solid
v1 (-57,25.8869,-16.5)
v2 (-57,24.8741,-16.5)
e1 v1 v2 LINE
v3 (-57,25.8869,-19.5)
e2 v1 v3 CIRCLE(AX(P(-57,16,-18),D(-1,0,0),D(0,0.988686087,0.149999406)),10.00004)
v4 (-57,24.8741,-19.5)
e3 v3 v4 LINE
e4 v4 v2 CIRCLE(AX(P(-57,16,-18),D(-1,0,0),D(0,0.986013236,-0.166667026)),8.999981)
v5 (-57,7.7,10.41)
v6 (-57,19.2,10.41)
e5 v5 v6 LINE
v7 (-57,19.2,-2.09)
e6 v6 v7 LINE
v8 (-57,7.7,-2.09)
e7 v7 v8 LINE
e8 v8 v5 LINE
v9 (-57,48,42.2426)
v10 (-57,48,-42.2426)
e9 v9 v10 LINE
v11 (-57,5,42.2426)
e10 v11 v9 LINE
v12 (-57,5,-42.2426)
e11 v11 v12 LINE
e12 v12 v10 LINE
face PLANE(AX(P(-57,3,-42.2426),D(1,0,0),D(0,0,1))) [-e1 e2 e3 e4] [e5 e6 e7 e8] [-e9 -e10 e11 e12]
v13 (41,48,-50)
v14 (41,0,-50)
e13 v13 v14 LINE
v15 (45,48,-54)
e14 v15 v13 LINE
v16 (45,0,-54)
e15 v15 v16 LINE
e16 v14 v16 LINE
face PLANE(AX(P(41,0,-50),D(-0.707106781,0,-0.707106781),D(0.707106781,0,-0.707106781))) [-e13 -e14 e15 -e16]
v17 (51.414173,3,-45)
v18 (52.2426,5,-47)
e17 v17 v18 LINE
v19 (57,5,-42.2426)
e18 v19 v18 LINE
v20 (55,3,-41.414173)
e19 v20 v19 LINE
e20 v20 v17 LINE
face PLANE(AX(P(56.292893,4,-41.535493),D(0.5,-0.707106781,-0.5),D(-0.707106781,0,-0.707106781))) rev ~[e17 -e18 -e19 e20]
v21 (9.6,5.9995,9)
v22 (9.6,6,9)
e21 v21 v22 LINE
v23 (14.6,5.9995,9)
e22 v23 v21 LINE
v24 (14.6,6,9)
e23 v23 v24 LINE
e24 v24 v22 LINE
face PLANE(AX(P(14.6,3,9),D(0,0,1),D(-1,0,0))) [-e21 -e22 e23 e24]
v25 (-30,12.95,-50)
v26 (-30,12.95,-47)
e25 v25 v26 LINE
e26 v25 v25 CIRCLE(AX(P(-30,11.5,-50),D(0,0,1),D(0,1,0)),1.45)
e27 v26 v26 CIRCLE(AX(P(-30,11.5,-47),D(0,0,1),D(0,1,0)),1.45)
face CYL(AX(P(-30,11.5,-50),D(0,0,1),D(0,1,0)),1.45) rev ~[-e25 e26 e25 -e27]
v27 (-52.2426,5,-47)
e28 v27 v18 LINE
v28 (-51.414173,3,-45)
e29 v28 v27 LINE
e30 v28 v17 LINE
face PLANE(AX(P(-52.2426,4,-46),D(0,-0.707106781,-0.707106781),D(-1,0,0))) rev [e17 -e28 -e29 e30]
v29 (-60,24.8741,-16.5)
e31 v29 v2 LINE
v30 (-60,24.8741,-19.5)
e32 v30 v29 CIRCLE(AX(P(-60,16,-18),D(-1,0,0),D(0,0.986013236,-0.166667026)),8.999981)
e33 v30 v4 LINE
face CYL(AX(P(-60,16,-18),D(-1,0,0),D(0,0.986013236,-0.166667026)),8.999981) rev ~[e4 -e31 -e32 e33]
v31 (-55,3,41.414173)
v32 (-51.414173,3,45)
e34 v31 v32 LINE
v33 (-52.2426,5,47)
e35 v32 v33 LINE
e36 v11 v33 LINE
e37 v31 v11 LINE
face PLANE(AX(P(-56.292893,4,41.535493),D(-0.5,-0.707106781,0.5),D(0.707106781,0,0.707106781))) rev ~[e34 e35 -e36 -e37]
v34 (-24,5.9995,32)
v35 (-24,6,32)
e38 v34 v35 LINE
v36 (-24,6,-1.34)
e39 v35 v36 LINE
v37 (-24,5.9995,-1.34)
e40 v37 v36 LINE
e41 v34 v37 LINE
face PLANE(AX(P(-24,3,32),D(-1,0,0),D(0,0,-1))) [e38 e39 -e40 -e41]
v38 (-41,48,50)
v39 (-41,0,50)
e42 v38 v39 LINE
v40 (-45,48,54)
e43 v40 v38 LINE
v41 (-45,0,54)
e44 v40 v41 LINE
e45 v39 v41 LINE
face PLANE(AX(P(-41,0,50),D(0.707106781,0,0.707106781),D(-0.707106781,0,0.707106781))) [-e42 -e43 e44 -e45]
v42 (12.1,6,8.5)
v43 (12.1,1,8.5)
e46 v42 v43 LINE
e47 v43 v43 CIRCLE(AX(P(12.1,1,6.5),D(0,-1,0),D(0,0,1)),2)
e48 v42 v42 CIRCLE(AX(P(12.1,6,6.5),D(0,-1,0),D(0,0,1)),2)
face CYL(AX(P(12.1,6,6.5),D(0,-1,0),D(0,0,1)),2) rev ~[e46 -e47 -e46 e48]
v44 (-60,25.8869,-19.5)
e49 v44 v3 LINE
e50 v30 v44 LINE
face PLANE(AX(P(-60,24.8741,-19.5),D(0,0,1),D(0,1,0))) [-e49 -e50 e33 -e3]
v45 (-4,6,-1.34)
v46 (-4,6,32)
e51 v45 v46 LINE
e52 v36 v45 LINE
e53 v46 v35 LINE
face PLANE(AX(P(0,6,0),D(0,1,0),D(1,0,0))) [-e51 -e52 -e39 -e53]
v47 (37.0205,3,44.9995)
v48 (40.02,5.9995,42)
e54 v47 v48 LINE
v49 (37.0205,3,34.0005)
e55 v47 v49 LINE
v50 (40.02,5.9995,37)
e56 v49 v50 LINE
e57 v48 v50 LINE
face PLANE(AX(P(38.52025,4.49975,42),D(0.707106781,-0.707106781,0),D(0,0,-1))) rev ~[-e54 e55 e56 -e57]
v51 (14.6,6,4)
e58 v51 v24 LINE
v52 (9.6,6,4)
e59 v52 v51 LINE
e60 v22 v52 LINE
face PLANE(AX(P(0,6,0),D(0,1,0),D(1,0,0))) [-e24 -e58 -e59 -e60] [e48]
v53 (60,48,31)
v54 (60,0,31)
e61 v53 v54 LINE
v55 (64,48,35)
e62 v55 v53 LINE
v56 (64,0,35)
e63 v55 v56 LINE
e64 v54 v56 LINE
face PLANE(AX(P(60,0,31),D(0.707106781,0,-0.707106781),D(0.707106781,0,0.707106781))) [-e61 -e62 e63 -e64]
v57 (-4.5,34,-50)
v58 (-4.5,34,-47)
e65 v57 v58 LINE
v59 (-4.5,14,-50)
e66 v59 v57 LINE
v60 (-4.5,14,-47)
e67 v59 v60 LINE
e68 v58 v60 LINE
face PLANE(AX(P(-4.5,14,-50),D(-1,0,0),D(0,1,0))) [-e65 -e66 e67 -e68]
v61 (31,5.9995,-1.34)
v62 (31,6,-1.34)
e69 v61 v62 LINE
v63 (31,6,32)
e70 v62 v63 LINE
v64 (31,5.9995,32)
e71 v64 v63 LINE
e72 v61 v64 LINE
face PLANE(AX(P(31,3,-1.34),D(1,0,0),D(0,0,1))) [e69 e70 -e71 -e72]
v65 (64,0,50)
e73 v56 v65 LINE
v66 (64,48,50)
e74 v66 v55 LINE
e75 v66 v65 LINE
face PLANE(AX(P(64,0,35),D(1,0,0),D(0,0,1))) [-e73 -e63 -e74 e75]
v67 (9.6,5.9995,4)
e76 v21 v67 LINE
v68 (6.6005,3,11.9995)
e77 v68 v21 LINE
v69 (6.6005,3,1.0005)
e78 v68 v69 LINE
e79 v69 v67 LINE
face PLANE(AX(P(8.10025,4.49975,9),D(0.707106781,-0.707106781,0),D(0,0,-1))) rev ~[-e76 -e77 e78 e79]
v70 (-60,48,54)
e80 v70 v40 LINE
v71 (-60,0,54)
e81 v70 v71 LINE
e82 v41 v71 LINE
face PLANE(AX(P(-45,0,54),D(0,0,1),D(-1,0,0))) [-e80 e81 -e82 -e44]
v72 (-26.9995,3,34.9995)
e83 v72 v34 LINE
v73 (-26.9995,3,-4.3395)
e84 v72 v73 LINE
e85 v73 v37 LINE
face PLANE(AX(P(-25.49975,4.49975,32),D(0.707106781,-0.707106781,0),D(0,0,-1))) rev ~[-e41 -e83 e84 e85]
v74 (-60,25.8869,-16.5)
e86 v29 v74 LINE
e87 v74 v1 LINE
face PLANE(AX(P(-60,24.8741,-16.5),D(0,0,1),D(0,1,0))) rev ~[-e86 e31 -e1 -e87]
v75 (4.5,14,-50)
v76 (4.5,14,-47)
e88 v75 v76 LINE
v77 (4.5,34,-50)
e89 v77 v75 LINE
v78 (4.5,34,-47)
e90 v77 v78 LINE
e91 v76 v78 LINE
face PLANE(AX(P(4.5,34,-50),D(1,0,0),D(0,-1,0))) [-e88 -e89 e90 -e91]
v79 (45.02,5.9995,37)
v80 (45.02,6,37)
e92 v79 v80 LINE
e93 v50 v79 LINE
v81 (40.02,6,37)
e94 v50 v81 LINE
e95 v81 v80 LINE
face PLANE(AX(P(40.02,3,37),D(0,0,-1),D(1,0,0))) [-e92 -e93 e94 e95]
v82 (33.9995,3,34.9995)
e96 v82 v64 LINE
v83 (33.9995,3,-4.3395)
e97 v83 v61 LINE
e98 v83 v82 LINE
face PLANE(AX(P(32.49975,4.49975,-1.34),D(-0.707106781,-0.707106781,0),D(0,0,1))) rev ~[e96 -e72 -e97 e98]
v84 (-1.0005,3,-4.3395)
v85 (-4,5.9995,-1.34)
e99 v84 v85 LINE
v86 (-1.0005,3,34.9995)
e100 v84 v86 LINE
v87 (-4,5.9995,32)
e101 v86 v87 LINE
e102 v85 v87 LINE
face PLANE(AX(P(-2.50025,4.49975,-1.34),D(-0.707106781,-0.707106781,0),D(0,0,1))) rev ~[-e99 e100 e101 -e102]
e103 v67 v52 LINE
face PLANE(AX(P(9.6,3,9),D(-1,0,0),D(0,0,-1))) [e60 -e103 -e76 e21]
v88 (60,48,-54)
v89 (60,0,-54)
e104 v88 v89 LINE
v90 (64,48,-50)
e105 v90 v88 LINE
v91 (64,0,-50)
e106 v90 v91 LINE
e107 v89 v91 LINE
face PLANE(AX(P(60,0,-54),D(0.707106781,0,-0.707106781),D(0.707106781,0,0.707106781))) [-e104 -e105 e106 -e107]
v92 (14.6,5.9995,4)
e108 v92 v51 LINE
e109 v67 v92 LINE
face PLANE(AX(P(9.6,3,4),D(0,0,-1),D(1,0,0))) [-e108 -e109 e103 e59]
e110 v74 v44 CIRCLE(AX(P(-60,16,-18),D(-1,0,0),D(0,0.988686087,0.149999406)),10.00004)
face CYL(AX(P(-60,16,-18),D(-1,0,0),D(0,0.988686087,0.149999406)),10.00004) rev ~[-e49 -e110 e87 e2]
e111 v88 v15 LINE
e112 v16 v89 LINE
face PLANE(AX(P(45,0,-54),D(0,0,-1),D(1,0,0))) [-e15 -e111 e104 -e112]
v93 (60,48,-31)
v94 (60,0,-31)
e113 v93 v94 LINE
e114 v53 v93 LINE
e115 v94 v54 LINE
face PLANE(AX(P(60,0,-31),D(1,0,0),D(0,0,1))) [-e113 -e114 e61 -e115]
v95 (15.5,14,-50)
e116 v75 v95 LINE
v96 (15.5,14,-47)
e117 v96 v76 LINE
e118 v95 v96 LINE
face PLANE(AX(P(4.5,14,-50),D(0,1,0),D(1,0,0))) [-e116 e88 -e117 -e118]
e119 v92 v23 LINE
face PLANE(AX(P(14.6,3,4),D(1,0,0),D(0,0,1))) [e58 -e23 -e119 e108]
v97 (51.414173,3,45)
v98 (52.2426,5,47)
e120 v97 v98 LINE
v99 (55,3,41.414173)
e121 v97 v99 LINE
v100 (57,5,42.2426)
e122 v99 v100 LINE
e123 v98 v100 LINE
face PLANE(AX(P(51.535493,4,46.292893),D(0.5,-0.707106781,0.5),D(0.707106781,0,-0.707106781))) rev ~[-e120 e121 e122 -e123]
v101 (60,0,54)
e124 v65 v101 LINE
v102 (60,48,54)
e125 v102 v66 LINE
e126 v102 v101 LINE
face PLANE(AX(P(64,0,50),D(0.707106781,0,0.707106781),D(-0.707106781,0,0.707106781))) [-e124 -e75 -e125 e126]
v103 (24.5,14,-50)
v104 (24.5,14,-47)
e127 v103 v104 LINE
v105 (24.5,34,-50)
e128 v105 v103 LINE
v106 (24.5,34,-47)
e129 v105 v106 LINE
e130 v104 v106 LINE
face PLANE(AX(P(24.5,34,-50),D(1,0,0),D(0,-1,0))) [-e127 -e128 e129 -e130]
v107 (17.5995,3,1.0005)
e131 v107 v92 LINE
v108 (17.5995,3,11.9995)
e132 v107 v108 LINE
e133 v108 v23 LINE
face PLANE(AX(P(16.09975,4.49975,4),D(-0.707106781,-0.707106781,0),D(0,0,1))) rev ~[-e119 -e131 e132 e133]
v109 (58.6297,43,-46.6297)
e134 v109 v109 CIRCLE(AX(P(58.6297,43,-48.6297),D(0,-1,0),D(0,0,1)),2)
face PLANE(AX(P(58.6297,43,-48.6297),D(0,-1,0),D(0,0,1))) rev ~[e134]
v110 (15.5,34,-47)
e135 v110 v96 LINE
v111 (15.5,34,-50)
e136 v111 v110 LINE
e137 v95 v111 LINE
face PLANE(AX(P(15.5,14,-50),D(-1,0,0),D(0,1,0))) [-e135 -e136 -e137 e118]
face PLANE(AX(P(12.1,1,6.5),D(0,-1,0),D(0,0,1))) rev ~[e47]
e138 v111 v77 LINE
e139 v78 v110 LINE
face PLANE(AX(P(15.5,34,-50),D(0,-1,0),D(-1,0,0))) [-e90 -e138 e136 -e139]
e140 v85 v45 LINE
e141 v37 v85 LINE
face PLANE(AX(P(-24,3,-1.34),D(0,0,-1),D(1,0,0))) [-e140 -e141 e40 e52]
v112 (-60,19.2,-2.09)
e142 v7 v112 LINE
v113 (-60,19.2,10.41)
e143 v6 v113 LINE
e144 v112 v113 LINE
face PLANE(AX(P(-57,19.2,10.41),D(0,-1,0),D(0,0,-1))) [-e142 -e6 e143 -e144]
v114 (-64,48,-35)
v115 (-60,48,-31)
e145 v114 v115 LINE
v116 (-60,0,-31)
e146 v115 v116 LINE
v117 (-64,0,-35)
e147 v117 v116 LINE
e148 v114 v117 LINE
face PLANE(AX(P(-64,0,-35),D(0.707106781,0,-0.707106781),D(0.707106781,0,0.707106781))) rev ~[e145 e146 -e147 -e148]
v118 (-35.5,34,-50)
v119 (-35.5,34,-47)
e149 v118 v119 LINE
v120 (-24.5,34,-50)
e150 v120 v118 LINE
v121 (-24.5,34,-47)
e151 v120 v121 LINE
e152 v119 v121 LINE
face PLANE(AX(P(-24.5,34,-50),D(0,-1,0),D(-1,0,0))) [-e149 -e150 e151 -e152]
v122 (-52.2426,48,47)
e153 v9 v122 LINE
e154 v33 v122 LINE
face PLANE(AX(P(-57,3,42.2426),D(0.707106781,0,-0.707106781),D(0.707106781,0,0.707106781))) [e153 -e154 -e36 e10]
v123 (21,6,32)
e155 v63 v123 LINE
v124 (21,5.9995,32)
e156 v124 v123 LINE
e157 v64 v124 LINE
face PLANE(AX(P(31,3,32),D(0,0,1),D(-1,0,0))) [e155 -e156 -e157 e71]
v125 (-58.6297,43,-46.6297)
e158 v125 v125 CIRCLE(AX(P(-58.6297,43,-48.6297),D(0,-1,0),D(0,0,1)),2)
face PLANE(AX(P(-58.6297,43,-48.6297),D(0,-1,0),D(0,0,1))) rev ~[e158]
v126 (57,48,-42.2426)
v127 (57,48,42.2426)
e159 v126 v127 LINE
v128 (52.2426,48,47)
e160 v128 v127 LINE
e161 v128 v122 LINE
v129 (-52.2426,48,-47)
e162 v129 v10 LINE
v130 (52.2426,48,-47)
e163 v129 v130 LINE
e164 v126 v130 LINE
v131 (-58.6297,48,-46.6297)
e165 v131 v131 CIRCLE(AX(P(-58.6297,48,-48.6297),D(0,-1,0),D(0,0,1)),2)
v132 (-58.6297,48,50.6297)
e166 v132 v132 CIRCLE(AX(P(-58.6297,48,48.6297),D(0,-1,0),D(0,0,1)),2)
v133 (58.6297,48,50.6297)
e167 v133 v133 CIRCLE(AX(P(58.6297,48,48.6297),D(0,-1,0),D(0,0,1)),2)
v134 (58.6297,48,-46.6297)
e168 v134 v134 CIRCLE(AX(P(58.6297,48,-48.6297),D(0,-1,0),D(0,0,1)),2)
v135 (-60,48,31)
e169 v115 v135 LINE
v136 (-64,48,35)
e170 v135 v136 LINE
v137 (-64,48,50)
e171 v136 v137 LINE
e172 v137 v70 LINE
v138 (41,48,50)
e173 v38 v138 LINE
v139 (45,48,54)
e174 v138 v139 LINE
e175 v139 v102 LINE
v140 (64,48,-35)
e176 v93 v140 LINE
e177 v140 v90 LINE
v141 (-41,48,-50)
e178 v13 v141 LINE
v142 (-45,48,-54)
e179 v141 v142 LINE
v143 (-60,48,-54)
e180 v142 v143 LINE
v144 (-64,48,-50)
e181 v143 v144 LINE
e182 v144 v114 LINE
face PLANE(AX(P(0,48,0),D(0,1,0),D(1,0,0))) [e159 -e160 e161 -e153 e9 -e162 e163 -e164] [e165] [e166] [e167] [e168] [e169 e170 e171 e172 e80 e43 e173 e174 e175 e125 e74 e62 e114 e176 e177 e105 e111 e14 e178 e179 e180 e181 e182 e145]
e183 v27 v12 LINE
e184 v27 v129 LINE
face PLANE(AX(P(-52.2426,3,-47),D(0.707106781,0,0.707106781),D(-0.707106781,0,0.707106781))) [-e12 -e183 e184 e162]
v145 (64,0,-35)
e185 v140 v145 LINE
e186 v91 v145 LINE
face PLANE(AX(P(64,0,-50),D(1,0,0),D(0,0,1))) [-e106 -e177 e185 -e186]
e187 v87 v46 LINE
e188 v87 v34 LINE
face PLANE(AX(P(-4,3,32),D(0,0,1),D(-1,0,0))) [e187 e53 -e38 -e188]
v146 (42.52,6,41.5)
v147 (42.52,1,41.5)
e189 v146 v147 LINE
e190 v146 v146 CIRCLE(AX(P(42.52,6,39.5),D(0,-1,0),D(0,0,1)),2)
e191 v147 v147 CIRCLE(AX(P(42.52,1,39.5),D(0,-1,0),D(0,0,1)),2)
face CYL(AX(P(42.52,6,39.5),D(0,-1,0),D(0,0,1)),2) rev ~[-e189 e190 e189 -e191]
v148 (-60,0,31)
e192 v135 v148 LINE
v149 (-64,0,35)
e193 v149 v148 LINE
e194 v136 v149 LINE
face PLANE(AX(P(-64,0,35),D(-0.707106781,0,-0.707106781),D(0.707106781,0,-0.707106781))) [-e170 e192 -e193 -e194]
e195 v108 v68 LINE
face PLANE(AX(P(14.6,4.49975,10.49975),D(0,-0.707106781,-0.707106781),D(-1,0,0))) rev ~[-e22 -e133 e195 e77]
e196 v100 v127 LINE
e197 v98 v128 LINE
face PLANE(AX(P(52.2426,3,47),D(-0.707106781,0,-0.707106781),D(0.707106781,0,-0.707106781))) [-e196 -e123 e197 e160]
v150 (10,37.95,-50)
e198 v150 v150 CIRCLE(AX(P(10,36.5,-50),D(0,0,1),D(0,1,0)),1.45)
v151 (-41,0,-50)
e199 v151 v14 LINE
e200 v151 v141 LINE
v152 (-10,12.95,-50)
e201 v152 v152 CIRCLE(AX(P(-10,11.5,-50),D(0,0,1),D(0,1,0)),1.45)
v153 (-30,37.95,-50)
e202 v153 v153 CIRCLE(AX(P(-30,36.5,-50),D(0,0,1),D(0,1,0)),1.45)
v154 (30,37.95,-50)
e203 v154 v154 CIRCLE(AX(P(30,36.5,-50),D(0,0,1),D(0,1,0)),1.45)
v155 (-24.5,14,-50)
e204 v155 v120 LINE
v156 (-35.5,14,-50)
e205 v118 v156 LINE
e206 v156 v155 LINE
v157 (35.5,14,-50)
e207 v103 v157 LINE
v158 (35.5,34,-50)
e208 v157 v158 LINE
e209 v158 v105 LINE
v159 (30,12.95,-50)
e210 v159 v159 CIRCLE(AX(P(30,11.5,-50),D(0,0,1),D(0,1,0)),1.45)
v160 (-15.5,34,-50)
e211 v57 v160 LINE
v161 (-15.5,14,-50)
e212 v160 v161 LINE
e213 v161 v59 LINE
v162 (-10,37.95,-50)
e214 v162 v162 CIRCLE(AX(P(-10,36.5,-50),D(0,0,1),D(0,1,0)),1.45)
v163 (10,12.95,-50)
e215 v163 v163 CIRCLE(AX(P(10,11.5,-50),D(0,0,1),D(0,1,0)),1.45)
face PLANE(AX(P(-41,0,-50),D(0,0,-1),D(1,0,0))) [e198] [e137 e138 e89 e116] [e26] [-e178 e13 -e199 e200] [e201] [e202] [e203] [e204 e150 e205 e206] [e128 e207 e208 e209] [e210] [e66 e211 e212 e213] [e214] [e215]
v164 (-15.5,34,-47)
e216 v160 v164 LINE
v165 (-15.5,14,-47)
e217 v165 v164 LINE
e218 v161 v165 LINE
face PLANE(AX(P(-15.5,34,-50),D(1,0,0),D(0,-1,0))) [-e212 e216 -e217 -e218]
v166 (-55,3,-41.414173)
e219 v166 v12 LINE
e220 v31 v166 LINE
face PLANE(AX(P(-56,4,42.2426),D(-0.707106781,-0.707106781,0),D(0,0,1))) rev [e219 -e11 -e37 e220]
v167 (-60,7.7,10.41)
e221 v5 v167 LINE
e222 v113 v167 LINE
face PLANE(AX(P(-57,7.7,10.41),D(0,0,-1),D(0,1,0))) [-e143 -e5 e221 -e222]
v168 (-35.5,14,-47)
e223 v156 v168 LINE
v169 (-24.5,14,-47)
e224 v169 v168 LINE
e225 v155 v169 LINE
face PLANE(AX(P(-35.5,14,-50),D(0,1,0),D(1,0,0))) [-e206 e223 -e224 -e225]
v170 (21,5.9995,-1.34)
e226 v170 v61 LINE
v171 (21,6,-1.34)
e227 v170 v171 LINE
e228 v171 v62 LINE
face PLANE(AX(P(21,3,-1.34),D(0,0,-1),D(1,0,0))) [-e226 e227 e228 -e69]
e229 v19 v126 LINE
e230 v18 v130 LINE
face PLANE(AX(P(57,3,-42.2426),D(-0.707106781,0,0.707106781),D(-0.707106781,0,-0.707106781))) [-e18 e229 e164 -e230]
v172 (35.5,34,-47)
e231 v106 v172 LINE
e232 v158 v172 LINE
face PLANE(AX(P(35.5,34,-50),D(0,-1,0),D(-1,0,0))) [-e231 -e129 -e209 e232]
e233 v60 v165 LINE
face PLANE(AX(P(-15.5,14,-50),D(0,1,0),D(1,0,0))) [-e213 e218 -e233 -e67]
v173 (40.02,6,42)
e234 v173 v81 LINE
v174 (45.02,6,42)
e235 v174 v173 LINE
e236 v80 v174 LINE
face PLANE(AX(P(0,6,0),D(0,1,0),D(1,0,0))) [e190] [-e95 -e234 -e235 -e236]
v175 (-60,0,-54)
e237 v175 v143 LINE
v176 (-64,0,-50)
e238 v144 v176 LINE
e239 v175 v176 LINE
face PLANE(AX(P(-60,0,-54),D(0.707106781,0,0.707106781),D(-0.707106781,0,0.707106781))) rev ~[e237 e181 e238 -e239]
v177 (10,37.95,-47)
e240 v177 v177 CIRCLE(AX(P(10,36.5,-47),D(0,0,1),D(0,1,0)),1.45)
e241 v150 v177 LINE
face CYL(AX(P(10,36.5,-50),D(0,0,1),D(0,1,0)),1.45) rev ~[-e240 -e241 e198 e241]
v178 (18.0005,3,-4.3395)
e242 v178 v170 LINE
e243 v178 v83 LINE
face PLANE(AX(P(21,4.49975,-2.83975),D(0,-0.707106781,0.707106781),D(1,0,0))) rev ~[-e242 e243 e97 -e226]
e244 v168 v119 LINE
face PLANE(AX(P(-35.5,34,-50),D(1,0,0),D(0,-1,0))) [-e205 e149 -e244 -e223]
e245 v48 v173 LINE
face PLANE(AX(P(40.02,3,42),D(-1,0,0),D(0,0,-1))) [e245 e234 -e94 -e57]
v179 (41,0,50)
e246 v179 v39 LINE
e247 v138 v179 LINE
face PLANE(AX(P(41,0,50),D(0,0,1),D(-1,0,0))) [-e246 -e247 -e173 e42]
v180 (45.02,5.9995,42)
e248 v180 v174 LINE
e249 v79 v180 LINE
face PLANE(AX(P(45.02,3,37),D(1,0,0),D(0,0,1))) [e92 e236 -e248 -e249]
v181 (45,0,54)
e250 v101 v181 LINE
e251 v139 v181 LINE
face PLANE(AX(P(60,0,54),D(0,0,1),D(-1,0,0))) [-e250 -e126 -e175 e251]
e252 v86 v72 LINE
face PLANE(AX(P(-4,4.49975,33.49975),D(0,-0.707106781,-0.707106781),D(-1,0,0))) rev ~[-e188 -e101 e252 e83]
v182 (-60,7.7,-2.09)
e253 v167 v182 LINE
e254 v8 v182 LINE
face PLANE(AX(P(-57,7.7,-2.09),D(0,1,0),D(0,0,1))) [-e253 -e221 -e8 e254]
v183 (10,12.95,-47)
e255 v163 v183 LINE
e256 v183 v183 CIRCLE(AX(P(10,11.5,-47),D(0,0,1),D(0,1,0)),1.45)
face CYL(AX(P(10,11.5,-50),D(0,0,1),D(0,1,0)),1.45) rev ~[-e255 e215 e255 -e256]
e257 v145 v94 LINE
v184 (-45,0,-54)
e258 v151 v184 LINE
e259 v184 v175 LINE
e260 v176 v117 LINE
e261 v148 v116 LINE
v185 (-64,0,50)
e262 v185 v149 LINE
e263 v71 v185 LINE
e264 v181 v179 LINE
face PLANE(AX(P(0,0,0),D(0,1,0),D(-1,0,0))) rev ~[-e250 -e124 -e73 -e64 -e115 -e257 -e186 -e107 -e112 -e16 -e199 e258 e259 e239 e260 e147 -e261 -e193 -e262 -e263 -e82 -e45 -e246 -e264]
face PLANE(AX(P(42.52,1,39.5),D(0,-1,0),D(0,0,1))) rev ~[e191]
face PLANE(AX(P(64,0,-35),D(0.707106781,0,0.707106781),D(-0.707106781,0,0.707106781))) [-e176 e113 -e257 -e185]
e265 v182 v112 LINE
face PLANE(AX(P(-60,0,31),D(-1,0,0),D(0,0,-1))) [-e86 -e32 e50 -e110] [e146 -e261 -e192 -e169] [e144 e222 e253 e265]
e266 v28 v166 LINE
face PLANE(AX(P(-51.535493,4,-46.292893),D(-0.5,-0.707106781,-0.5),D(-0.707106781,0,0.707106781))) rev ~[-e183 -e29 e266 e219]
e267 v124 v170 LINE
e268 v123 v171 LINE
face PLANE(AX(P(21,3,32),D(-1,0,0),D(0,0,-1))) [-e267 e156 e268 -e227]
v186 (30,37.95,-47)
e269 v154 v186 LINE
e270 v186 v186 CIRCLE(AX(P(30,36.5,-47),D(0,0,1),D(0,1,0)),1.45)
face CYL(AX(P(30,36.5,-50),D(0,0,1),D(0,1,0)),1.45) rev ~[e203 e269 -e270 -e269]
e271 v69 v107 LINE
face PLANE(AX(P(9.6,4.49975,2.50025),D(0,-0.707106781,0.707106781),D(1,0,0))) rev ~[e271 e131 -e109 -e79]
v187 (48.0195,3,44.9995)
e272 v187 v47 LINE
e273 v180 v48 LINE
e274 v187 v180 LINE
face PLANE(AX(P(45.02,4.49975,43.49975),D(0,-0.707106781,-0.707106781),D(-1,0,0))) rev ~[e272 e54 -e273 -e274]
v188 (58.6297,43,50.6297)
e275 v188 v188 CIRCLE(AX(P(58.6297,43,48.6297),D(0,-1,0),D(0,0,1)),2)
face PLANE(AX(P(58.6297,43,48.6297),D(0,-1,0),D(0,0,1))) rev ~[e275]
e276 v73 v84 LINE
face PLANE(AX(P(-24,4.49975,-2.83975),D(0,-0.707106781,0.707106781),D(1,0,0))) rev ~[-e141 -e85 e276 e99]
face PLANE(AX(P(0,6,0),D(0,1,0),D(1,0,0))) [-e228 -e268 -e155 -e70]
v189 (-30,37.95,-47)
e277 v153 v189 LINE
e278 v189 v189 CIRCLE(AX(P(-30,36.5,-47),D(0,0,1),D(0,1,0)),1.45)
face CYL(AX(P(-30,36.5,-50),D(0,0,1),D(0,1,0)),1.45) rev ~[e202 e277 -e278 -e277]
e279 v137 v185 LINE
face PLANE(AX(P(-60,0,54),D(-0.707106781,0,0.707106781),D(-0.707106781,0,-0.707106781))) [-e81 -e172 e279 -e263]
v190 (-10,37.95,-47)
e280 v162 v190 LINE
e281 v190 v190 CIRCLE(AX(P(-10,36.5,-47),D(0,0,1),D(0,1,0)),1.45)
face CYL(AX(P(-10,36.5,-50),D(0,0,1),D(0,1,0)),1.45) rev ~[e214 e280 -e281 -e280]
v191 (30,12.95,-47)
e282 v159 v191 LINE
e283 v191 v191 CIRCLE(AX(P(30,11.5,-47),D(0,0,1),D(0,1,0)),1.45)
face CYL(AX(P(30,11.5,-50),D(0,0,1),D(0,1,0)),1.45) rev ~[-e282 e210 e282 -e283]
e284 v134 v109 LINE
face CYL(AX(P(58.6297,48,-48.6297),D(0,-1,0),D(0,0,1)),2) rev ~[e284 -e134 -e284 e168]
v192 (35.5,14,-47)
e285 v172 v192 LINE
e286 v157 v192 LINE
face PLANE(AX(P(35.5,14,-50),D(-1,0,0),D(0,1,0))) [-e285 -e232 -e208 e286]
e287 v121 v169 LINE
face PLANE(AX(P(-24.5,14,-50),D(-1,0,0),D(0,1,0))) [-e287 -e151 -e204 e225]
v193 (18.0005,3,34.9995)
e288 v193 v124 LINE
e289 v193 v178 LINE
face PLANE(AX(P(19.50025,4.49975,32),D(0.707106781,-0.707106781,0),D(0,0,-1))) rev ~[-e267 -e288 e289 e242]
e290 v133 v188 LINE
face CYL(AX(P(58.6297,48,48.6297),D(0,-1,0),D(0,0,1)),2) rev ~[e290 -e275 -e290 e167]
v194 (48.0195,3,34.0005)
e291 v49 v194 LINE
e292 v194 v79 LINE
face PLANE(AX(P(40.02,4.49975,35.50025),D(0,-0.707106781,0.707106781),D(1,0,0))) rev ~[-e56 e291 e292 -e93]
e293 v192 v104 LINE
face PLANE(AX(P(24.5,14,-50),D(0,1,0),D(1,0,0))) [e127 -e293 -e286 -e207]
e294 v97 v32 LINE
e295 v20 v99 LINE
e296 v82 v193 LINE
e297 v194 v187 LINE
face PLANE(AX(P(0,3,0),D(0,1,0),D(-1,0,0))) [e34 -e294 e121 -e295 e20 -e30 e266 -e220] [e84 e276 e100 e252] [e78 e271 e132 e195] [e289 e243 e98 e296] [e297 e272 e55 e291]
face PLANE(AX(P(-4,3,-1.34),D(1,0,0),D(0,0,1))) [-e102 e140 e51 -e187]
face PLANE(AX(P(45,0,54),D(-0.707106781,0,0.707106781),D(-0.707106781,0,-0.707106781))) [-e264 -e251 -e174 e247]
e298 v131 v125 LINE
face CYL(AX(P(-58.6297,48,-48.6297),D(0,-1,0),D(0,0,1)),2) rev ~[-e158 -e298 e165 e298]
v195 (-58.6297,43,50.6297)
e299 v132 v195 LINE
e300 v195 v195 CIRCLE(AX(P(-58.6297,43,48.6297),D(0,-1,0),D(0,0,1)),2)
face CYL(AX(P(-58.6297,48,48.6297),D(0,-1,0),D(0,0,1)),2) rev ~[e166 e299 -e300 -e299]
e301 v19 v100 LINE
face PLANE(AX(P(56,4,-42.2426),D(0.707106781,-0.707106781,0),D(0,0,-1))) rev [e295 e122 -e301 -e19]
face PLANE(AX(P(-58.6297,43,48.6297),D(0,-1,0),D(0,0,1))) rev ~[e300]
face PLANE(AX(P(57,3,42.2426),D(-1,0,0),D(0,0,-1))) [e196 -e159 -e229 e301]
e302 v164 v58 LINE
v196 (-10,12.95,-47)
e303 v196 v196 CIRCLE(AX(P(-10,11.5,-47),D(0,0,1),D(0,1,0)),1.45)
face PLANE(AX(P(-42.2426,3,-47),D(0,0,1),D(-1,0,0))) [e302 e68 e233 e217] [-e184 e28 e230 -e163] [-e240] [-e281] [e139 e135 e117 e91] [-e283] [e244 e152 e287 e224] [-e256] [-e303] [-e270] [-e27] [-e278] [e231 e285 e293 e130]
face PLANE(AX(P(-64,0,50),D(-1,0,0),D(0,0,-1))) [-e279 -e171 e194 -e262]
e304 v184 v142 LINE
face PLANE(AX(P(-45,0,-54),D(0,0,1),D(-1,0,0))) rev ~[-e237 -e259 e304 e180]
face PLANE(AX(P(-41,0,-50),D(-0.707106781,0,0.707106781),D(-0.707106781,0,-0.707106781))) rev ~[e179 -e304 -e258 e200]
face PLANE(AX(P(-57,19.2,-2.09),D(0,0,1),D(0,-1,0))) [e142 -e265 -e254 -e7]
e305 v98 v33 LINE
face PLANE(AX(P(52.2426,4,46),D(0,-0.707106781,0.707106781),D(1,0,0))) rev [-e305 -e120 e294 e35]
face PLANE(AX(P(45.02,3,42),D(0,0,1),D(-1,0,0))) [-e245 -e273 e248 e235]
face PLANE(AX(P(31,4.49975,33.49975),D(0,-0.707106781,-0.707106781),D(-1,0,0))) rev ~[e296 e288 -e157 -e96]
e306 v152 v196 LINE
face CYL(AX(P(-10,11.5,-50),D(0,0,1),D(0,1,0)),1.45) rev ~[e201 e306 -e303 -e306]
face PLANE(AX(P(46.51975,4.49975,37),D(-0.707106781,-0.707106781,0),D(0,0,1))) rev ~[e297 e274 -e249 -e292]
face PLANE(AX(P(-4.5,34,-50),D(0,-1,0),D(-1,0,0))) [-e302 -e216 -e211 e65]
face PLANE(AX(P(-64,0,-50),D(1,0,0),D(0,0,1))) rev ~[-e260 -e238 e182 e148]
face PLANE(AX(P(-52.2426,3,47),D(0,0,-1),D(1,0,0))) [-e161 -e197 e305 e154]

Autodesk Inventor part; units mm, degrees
ref_plane "YZ Plane" through (0, 0, 0) normal (1, 0, 0) x (0, 1, 0)
ref_plane "XZ Plane" through (0, 0, 0) normal (0, 1, 0) x (-1, 0, 0)
ref_plane "XY Plane" through (0, 0, 0) normal (0, 0, 1) x (1, 0, 0)
sketch "Sketch1" plane through (0, 0, 0) normal (0, 1, 0) x (-1, 0, 0)
  line L0 (-60, 50) -> (-41, 50) construction
  line L1 (60, 50) -> (60, 31) construction
  line L2 (60, -50) -> (41, -50) construction
  line L3 (-60, -50) -> (-60, -31) construction
  line L4 (-60, 50) -> (60, -50) construction
  line L5 (60, 50) -> (-60, -50) construction
  line L6 (41, -50) -> (45, -54)
  line L7 (45, -54) -> (60, -54)
  line L8 (60, -54) -> (64, -50)
  line L9 (64, -50) -> (64, -35)
  line L10 (64, -35) -> (60, -31)
  line L11 (-41, -50) -> (-45, -54)
  line L12 (-45, -54) -> (-60, -54)
  line L13 (-60, -54) -> (-64, -50)
  line L14 (-64, -50) -> (-64, -35)
  line L15 (-64, -35) -> (-60, -31)
  line L16 (-60, 31) -> (-64, 35)
  line L17 (-64, 35) -> (-64, 50)
  line L18 (-64, 50) -> (-60, 54)
  line L19 (-60, 54) -> (-45, 54)
  line L20 (-45, 54) -> (-41, 50)
  line L21 (41, 50) -> (45, 54)
  line L22 (45, 54) -> (60, 54)
  line L23 (60, 54) -> (64, 50)
  line L24 (64, 50) -> (64, 35)
  line L25 (64, 35) -> (60, 31)
  line L26 (41, -50) -> (-41, -50)
  line L27 (60, -31) -> (60, -50) construction
  line L28 (60, 31) -> (60, -31)
  line L29 (41, 50) -> (60, 50) construction
  line L30 (-41, 50) -> (41, 50)
  line L31 (-60, 31) -> (-60, 50) construction
  line L32 (-41, -50) -> (-60, -50) construction
  line L33 (-60, -31) -> (-60, 31)
  point P0 (0, 0)
  point P1 (0, 0)
  point P2 (0, 0)
  dimension "d4" = 120
  dimension "d5" = 100
  dimension "d6" = 45
  dimension "d7" = 15
  dimension "d8" = 4
  dimension "d9" = 4
  dimension "d12" = 45
  dimension "d13" = 4
extrude "Extrusion2" add sketch "Sketch1" along normal blind 3
sketch "Sketch2" plane through (0, 3, 0) normal (0, 1, 0) x (1, 0, 0)
  line L0 (-64, 50) -> (-64, 35) projected
  line L1 (-64, 35) -> (-60, 31) projected
  line L2 (-60, 31) -> (-60, -31) projected
  line L3 (-60, -31) -> (-64, -35) projected
  line L4 (-64, -35) -> (-64, -50) projected
  line L5 (-64, -50) -> (-60, -54) projected
  line L6 (-60, -54) -> (-45, -54) projected
  line L7 (-45, -54) -> (-41, -50) projected
  line L8 (-41, -50) -> (41, -50) projected
  line L9 (41, -50) -> (45, -54) projected
  line L10 (45, -54) -> (60, -54) projected
  line L11 (60, -54) -> (64, -50) projected
  line L12 (64, -50) -> (64, -35) projected
  line L13 (64, -35) -> (60, -31) projected
  line L14 (60, -31) -> (60, 31) projected
  line L15 (60, 31) -> (64, 35) projected
  line L16 (64, 35) -> (64, 50) projected
  line L17 (64, 50) -> (60, 54) projected
  line L18 (60, 54) -> (45, 54) projected
  line L19 (45, 54) -> (41, 50) projected
  line L20 (41, 50) -> (-41, 50) projected
  line L21 (-41, 50) -> (-45, 54) projected
  line L22 (-45, 54) -> (-60, 54) projected
  line L23 (-60, 54) -> (-64, 50) projected
  line L24 (-42.2426, 47) -> (42.2426, 47)
  line L25 (42.2426, 47) -> (46.2426, 51) construction
  line L26 (46.2426, 51) -> (58.7574, 51) construction
  line L27 (58.7574, 51) -> (61, 48.7574) construction
  line L28 (61, 48.7574) -> (61, 36.2426) construction
  line L29 (61, 36.2426) -> (57, 32.2426) construction
  line L30 (57, 32.2426) -> (57, -32.2426)
  line L31 (57, -32.2426) -> (61, -36.2426) construction
  line L32 (61, -36.2426) -> (61, -48.7574) construction
  line L33 (61, -48.7574) -> (58.7574, -51) construction
  line L34 (58.7574, -51) -> (46.2426, -51) construction
  line L35 (46.2426, -51) -> (42.2426, -47) construction
  line L36 (42.2426, -47) -> (-42.2426, -47)
  line L37 (-42.2426, -47) -> (-46.2426, -51) construction
  line L38 (-46.2426, -51) -> (-58.7574, -51) construction
  line L39 (-58.7574, -51) -> (-61, -48.7574) construction
  line L40 (-61, -48.7574) -> (-61, -36.2426) construction
  line L41 (-61, -36.2426) -> (-57, -32.2426) construction
  line L42 (-57, -32.2426) -> (-57, 32.2426)
  line L43 (-57, 32.2426) -> (-61, 36.2426) construction
  line L44 (-61, 36.2426) -> (-61, 48.7574) construction
  line L45 (-61, 48.7574) -> (-58.7574, 51) construction
  line L46 (-58.7574, 51) -> (-46.2426, 51) construction
  line L47 (-46.2426, 51) -> (-42.2426, 47) construction
  line L48 (-42.2426, 47) -> (-52.2426, 47)
  line L49 (-52.2426, 47) -> (-57, 42.2426)
  line L50 (-57, 42.2426) -> (-57, 32.2426)
  line L51 (-57, -32.2426) -> (-57, -42.2426)
  line L52 (-57, -42.2426) -> (-52.2426, -47)
  line L53 (-52.2426, -47) -> (-42.2426, -47)
  line L54 (42.2426, -47) -> (52.2426, -47)
  line L55 (52.2426, -47) -> (57, -42.2426)
  line L56 (57, -42.2426) -> (57, -32.2426)
  line L57 (57, 32.2426) -> (57, 42.2426)
  line L58 (57, 42.2426) -> (52.2426, 47)
  line L59 (52.2426, 47) -> (42.2426, 47)
  point P0 (0, 0)
  dimension "d16" = 3
  dimension "d17" = 10
extrude "Extrusion3" add sketch "Sketch2" along normal blind 45
sketch "Sketch4" plane through (0, 3, 0) normal (0, 1, 0) x (1, 0, 0)
  line L0 (45, 54) -> (41, 50) construction
  line L1 (41, 50) -> (-41, 50) construction
  line L2 (-41, 50) -> (-45, 54) construction
  line L3 (-45, 54) -> (-60, 54) construction
  line L4 (-60, 54) -> (-64, 50) construction
  line L5 (-64, 50) -> (-64, 35) construction
  line L6 (-64, 35) -> (-60, 31) construction
  line L7 (-60, 31) -> (-60, -31) construction
  line L8 (-60, -31) -> (-64, -35) construction
  line L9 (-64, -35) -> (-64, -50) construction
  line L10 (-64, -50) -> (-60, -54) construction
  line L11 (-60, -54) -> (-45, -54) construction
  line L12 (-45, -54) -> (-41, -50) construction
  line L13 (-41, -50) -> (41, -50) construction
  line L14 (41, -50) -> (45, -54) construction
  line L15 (45, -54) -> (60, -54) construction
  line L16 (60, -54) -> (64, -50) construction
  line L17 (64, -50) -> (64, -35) construction
  line L18 (64, -35) -> (60, -31) construction
  line L19 (60, -31) -> (60, 31) construction
  line L20 (60, 31) -> (64, 35) construction
  line L21 (64, 35) -> (64, 50) construction
  line L22 (64, 50) -> (60, 54) construction
  line L23 (60, 54) -> (45, 54) construction
  line L24 (-52.2426, 47) -> (52.2426, 47) construction
  line L25 (52.2426, 47) -> (57, 42.2426) construction
  line L26 (57, 42.2426) -> (57, -42.2426) construction
  line L27 (57, -42.2426) -> (52.2426, -47) construction
  line L28 (52.2426, -47) -> (-52.2426, -47) construction
  line L29 (-52.2426, -47) -> (-57, -42.2426) construction
  line L30 (-57, -42.2426) -> (-57, 42.2426) construction
  line L31 (-57, 42.2426) -> (-52.2426, 47) construction
  line L32 (-52.2426, 47) -> (-57, 42.2426) construction
  line L33 (-57, 42.2426) -> (-57, -42.2426) construction
  line L34 (-57, -42.2426) -> (-52.2426, -47) construction
  line L35 (-52.2426, -47) -> (52.2426, -47) construction
  line L36 (52.2426, -47) -> (57, -42.2426) construction
  line L37 (57, -42.2426) -> (57, 42.2426) construction
  line L38 (57, 42.2426) -> (52.2426, 47) construction
  line L39 (52.2426, 47) -> (-52.2426, 47) construction
  line L40 (-54, 11.34) -> (47.6, 11.34) construction
  line L41 (47.6, 11.34) -> (47.6, -42) construction
  line L42 (47.6, -42) -> (-54, -42) construction
  line L43 (-54, -42) -> (-54, 11.34) construction
  line L44 (9.6, -4) -> (14.6, -4)
  line L45 (14.6, -4) -> (14.6, -9)
  line L46 (14.6, -9) -> (9.6, -9)
  line L47 (9.6, -9) -> (9.6, -4)
  line L48 (9.6, -4) -> (14.6, -9) construction
  line L49 (14.6, -4) -> (9.6, -9) construction
  line L50 (45.02, -42) -> (40.02, -42)
  line L51 (40.02, -42) -> (40.02, -37)
  line L52 (40.02, -37) -> (45.02, -37)
  line L53 (45.02, -37) -> (45.02, -42)
  line L54 (45.02, -42) -> (40.02, -37) construction
  line L55 (40.02, -42) -> (45.02, -37) construction
  line L56 (-24, 1.34) -> (-4, 1.34)
  line L57 (-4, 1.34) -> (-4, -32)
  line L58 (-4, -32) -> (-24, -32)
  line L59 (-24, -32) -> (-24, 1.34)
  line L60 (21, 1.34) -> (31, 1.34)
  line L61 (31, 1.34) -> (31, -32)
  line L62 (31, -32) -> (21, -32)
  line L63 (21, -32) -> (21, 1.34)
  point P0 (-40, -39.5)
  point P1 (-38.7, 8.7)
  point P2 (12.1, -34.4)
  point P3 (12.1, -6.5)
  point P4 (36.2, 8.7)
  point P5 (42.52, -39.5)
  dimension "d20" = 53.34
  dimension "d21" = 101.6
  dimension "d23" = 5
  dimension "d24" = 3
  dimension "d25" = 14
  dimension "d26" = 1.3
  dimension "d27" = 50.8
  dimension "d29" = 2.5
  dimension "d30" = 5.1
  dimension "d31" = 27.9
  dimension "d32" = 15.2
  dimension "d33" = 24.1
  dimension "d34" = 96.52
  dimension "d35" = 30
  dimension "d36" = 50
  dimension "d37" = 10
  dimension "d38" = 10
  dimension "d39" = 75
  dimension "d40" = 85
  dimension "d41" = 5
extrude "Extrusion4" add sketch "Sketch4" along normal blind 3
chamfer "Chamfer1" distance 3 angle 45 16 edges at (-14, 3, 32) (-4, 3, 15.33) (21, 3, 15.33) (-24, 3, 15.33) (26, 3, 32) (40.02, 3, 39.5) (42.52, 3, 37) (45.02, 3, 39.5) (42.52, 3, 42) (9.6, 3, 6.5) (12.1, 3, 9) (14.6, 3, 6.5) (12.1, 3, 4) (26, 3, -1.34) (-14, 3, -1.34) (31, 3, 15.33)
sketch "Sketch5" plane through (0, 6, 0) normal (0, 1, 0) x (1, 0, 0)
  line L0 (14.6, -9) -> (14.6, -4) construction
  line L1 (14.6, -4) -> (9.6, -4) construction
  line L2 (9.6, -4) -> (9.6, -9) construction
  line L3 (9.6, -9) -> (14.6, -9) construction
  line L4 (40.02, -42) -> (45.02, -42) construction
  line L5 (45.02, -42) -> (45.02, -37) construction
  line L6 (45.02, -37) -> (40.02, -37) construction
  line L7 (40.02, -37) -> (40.02, -42) construction
  point P0 (0, 0)
  point P1 (12.1, -6.5)
  point P2 (42.52, -39.5)
  point P3 (14.6, -6.5)
  point P4 (45.02, -39.5)
  point P5 (12.1, -4)
  point P6 (42.52, -37)
hole "Hole1" at (12.1, 6, 6.5) at (42.52, 6, 39.5) direction (0, -1, 0) diameter 4 depth 5
sketch "Sketch6" plane through (-57, 3, 42.2426) normal (1, 0, 0) x (0, 0, -1)
  line L0 (46.5826, 0) -> (7.2426, 0) construction
  line L1 (7.2426, 0) -> (46.5826, 0) construction
  line L2 (7.2426, 0) -> (46.5826, 0) construction
  line L3 (46.5826, 0) -> (7.2426, 0) construction
  line L4 (-2.7574, 0) -> (8.2426, 0) construction
  line L5 (-4.7574, 0) -> (0, 0) construction
  line L6 (0, 0) -> (84.4853, 0) construction
  line L7 (84.4853, 0) -> (89.2426, 0) construction
  line L8 (89.2426, 0) -> (84.4853, 0) construction
  line L9 (84.4853, 0) -> (0, 0) construction
  line L10 (0, 0) -> (-4.7574, 0) construction
  line L11 (8.2426, 0) -> (-2.7574, 0) construction
  line L12 (41.2426, 0) -> (30.2426, 0) construction
  line L13 (30.2426, 0) -> (41.2426, 0) construction
  line L14 (0.2426, 0) -> (53.5826, 0) construction
  line L15 (43.5826, 3) -> (10.2426, 3) construction
  line L16 (10.2426, 3) -> (43.5826, 3) construction
  line L17 (43.5826, 3) -> (46.5826, 0) construction
  line L18 (46.5826, 0) -> (43.5826, 3) construction
  line L19 (10.2426, 3) -> (7.2426, 0) construction
  line L20 (10.2426, 3) -> (7.2426, 0) construction
  line L21 (84.4853, 0) -> (0, 0) construction
  line L22 (84.4853, 0) -> (84.4853, 45) construction
  line L23 (0, 45) -> (84.4853, 45) construction
  line L24 (0, 0) -> (0, 45) construction
  line L25 (31.8326, 16.2) -> (44.3326, 16.2)
  line L26 (44.3326, 16.2) -> (44.3326, 4.7)
  line L27 (44.3326, 4.7) -> (31.8326, 4.7)
  line L28 (31.8326, 4.7) -> (31.8326, 16.2)
  point P0 (42.2426, -3)
  dimension "d55" = 11.5
  dimension "d56" = 12.5
  dimension "d57" = 1.7
  dimension "d58" = 9.25
extrude "Extrusion5" cut sketch "Sketch6" against normal blind 10
sketch "Sketch7" plane through (0, 48, 0) normal (0, 1, 0) x (1, 0, 0)
  line L0 (41, -50) -> (45, -54) construction
  line L1 (45, -54) -> (60, -54) construction
  line L2 (60, -54) -> (64, -50) construction
  line L3 (64, -50) -> (64, -35) construction
  line L4 (64, -35) -> (60, -31) construction
  line L5 (60, -31) -> (60, 31) construction
  line L6 (60, 31) -> (64, 35) construction
  line L7 (64, 35) -> (64, 50) construction
  line L8 (64, 50) -> (60, 54) construction
  line L9 (60, 54) -> (45, 54) construction
  line L10 (45, 54) -> (41, 50) construction
  line L11 (41, 50) -> (-41, 50) construction
  line L12 (-41, 50) -> (-45, 54) construction
  line L13 (-45, 54) -> (-60, 54) construction
  line L14 (-60, 54) -> (-64, 50) construction
  line L15 (-64, 50) -> (-64, 35) construction
  line L16 (-64, 35) -> (-60, 31) construction
  line L17 (-60, 31) -> (-60, -31) construction
  line L18 (-60, -31) -> (-64, -35) construction
  line L19 (-64, -35) -> (-64, -50) construction
  line L20 (-64, -50) -> (-60, -54) construction
  line L21 (-60, -54) -> (-45, -54) construction
  line L22 (-45, -54) -> (-41, -50) construction
  line L23 (-41, -50) -> (41, -50) construction
  line L24 (52.2426, -47) -> (-52.2426, -47) construction
  line L25 (-52.2426, -47) -> (-57, -42.2426) construction
  line L26 (-57, -42.2426) -> (-57, 42.2426) construction
  line L27 (-57, 42.2426) -> (-52.2426, 47) construction
  line L28 (-52.2426, 47) -> (52.2426, 47) construction
  line L29 (52.2426, 47) -> (57, 42.2426) construction
  line L30 (57, 42.2426) -> (57, -42.2426) construction
  line L31 (57, -42.2426) -> (52.2426, -47) construction
  line L32 (-64, -35) -> (-64, -50) construction
  line L33 (-57, -42.2426) -> (-52.2426, -47) construction
  line L34 (-64, -50) -> (-52.2426, -47) construction
  line L35 (-60, -54) -> (-45, -54) construction
  line L36 (-57, -42.2426) -> (-57, 42.2426) construction
  line L37 (-60, -54) -> (-57, -42.2426) construction
  line L38 (-57, 0) -> (57, 0) construction
  line L39 (57, -42.2426) -> (57, 42.2426) projected
  line L40 (-52.2426, -47) -> (52.2426, -47) projected
  line L41 (0, -50) -> (0, 50) construction
  line L42 (41, 50) -> (-41, 50) projected
  point P0 (0, 0)
  point P1 (-58.6297, -48.6297)
  point P2 (37.02, -47)
  point P3 (58.6297, -48.6297)
  point P4 (-58.6297, 48.6297)
  point P5 (58.6297, 48.6297)
hole "Hole2" at (-58.6297, 48, 48.6297) at (58.6297, 48, 48.6297) at (58.6297, 48, -48.6297) at (-58.6297, 48, -48.6297) direction (0, -1, 0) diameter 4 depth 5
sketch "Sketch8" plane through (-60, 0, -31) normal (-1, 0, 0) x (0, 0, 1)
  line L0 (28.91, 7.7) -> (28.91, 19.2) construction
  line L1 (28.91, 19.2) -> (41.41, 19.2) construction
  line L2 (41.41, 19.2) -> (41.41, 7.7) construction
  line L3 (41.41, 7.7) -> (28.91, 7.7) construction
  line L4 (0, 0) -> (62, 0) construction
  line L5 (62, 0) -> (62, 48) construction
  line L6 (0, 48) -> (62, 48) construction
  line L7 (0, 0) -> (0, 48) construction
  line L8 (28.91, 19.2) -> (28.91, 7.7) construction
  line L9 (28.91, 7.7) -> (41.41, 7.7) construction
  line L10 (41.41, 7.7) -> (41.41, 19.2) construction
  line L11 (41.41, 19.2) -> (28.91, 19.2) construction
  line L12 (-11.2426, 3) -> (73.2426, 3) construction
  line L13 (-11.2426, 3) -> (-11.2426, 48) construction
  line L14 (73.2426, 48) -> (-11.2426, 48) construction
  line L15 (73.2426, 3) -> (73.2426, 48) construction
  arc A0 (11.5, 24.8741) -> (14.5, 24.8741) centre (13, 16) ccw
  circle A1 centre (13, 16) radius 10 construction
  line L16 (11.5, 25.8869) -> (11.5, 6.1131) construction
  line L17 (14.5, 25.8869) -> (14.5, 6.1131) construction
  line L18 (11.5, 16) -> (13, 16) construction
  line L19 (13, 16) -> (14.5, 16) construction
  line L20 (11.5, 24.8741) -> (11.5, 25.8869)
  line L21 (14.5, 24.8741) -> (14.5, 25.8869)
  arc A2 (14.5, 24.8741) -> (11.5, 24.8741) centre (13, 16) ccw construction
  arc A3 (14.5, 25.8869) -> (11.5, 25.8869) centre (13, 16) ccw
  point P0 (31, 0)
  dimension "d68" = 18
  dimension "d69" = 20
  dimension "d70" = 3
  dimension "d71" = 13
  dimension "d72" = 13
extrude "Extrusion6" cut sketch "Sketch8" against normal blind 10
sketch "Sketch10" plane through (41, 0, -50) normal (0, 0, -1) x (-1, 0, 0)
  line L0 (5.5, 34) -> (16.5, 34)
  line L1 (16.5, 34) -> (16.5, 14)
  line L2 (16.5, 14) -> (5.5, 14)
  line L3 (5.5, 14) -> (5.5, 34)
  line L4 (4.5, 39.5) -> (17.5, 39.5) construction
  line L5 (17.5, 39.5) -> (17.5, 8.5) construction
  line L6 (17.5, 8.5) -> (4.5, 8.5) construction
  line L7 (4.5, 8.5) -> (4.5, 39.5) construction
  line L8 (0, 0) -> (82, 0) construction
  line L9 (82, 0) -> (82, 48) construction
  line L10 (0, 48) -> (82, 48) construction
  line L11 (0, 0) -> (0, 48) construction
  line L12 (24.5, 39.5) -> (37.5, 39.5) construction
  line L13 (25.5, 34) -> (36.5, 34)
  line L14 (36.5, 34) -> (36.5, 14)
  line L15 (36.5, 14) -> (25.5, 14)
  line L16 (25.5, 14) -> (25.5, 34)
  line L17 (37.5, 39.5) -> (37.5, 8.5) construction
  line L18 (24.5, 8.5) -> (24.5, 39.5) construction
  line L19 (37.5, 8.5) -> (24.5, 8.5) construction
  line L20 (44.5, 39.5) -> (57.5, 39.5) construction
  line L21 (45.5, 34) -> (56.5, 34)
  line L22 (56.5, 34) -> (56.5, 14)
  line L23 (56.5, 14) -> (45.5, 14)
  line L24 (45.5, 14) -> (45.5, 34)
  line L25 (57.5, 39.5) -> (57.5, 8.5) construction
  line L26 (44.5, 8.5) -> (44.5, 39.5) construction
  line L27 (57.5, 8.5) -> (44.5, 8.5) construction
  line L28 (64.5, 39.5) -> (77.5, 39.5) construction
  line L29 (65.5, 34) -> (76.5, 34)
  line L30 (76.5, 34) -> (76.5, 14)
  line L31 (76.5, 14) -> (65.5, 14)
  line L32 (65.5, 14) -> (65.5, 34)
  line L33 (77.5, 39.5) -> (77.5, 8.5) construction
  line L34 (64.5, 8.5) -> (64.5, 39.5) construction
  line L35 (77.5, 8.5) -> (64.5, 8.5) construction
  line L36 (0, 48) -> (82, 48) construction
  line L37 (41, 48) -> (41, 0) construction
  point P0 (11, 39.5)
  point P1 (11, 34)
  point P2 (5.5, 24)
  point P3 (4.5, 24)
  point P4 (31, 39.5)
  point P5 (31, 34)
  point P6 (25.5, 24)
  point P7 (24.5, 24)
  point P8 (51, 39.5)
  point P9 (51, 34)
  point P10 (45.5, 24)
  point P11 (44.5, 24)
  point P12 (71, 39.5)
  point P13 (71, 34)
  point P14 (65.5, 24)
  point P15 (64.5, 24)
  point P16 (0, 24)
  dimension "d75" = 13
  dimension "d76" = 11
  dimension "d77" = 31
  dimension "d78" = 20
  dimension "d81" = 20
extrude "Extrusion7" cut sketch "Sketch10" against normal blind 5
sketch "Sketch11" plane through (41, 0, -50) normal (0, 0, -1) x (-1, 0, 0)
  line L0 (56.5, 34) -> (56.5, 14) construction
  line L1 (56.5, 14) -> (45.5, 14) construction
  line L2 (45.5, 14) -> (45.5, 34) construction
  line L3 (45.5, 34) -> (56.5, 34) construction
  line L4 (36.5, 34) -> (36.5, 14) construction
  line L5 (36.5, 14) -> (25.5, 14) construction
  line L6 (25.5, 14) -> (25.5, 34) construction
  line L7 (25.5, 34) -> (36.5, 34) construction
  line L8 (76.5, 34) -> (76.5, 14) construction
  line L9 (76.5, 14) -> (65.5, 14) construction
  line L10 (65.5, 14) -> (65.5, 34) construction
  line L11 (65.5, 34) -> (76.5, 34) construction
  line L12 (16.5, 34) -> (16.5, 14) construction
  line L13 (16.5, 14) -> (5.5, 14) construction
  line L14 (5.5, 14) -> (5.5, 34) construction
  line L15 (5.5, 34) -> (16.5, 34) construction
  line L16 (0, 0) -> (82, 0) construction
  line L17 (82, 0) -> (82, 48) construction
  line L18 (0, 48) -> (82, 48) construction
  line L19 (0, 0) -> (0, 48) construction
  line L20 (11, 36.5) -> (11, 11.5) construction
  point P0 (41, 0)
  point P1 (5.5, 24)
  point P2 (11, 24)
  point P3 (11, 34)
  point P4 (31, 36.5)
  point P5 (31, 11.5)
  point P6 (51, 36.5)
  point P7 (51, 11.5)
  point P8 (71, 36.5)
  point P9 (71, 11.5)
  dimension "d88" = 25
  dimension "d91" = 20
hole "Hole3" at (30, 36.5, -50) at (30, 11.5, -50) at (10, 36.5, -50) at (10, 11.5, -50) at (-10, 36.5, -50) at (-10, 11.5, -50) at (-30, 36.5, -50) at (-30, 11.5, -50) direction (0, 0, 1) diameter 2.9 depth 3 clearance for "Socket Head Cap Screw ISO 4762" size "M2.5" standard "ISO"
chamfer "Chamfer2" distance 2 angle 45 8 edges at (57, 3, 0) (0, 3, -47) (54.6213, 3, -44.6213) (-54.6213, 3, -44.6213) (-57, 3, 0) (0, 3, 47) (-54.6213, 3, 44.6213) (54.6213, 3, 44.6213)
equation "\"d9\" = d8"
equation "\"d13\" = d9"
properties part number "Case"
